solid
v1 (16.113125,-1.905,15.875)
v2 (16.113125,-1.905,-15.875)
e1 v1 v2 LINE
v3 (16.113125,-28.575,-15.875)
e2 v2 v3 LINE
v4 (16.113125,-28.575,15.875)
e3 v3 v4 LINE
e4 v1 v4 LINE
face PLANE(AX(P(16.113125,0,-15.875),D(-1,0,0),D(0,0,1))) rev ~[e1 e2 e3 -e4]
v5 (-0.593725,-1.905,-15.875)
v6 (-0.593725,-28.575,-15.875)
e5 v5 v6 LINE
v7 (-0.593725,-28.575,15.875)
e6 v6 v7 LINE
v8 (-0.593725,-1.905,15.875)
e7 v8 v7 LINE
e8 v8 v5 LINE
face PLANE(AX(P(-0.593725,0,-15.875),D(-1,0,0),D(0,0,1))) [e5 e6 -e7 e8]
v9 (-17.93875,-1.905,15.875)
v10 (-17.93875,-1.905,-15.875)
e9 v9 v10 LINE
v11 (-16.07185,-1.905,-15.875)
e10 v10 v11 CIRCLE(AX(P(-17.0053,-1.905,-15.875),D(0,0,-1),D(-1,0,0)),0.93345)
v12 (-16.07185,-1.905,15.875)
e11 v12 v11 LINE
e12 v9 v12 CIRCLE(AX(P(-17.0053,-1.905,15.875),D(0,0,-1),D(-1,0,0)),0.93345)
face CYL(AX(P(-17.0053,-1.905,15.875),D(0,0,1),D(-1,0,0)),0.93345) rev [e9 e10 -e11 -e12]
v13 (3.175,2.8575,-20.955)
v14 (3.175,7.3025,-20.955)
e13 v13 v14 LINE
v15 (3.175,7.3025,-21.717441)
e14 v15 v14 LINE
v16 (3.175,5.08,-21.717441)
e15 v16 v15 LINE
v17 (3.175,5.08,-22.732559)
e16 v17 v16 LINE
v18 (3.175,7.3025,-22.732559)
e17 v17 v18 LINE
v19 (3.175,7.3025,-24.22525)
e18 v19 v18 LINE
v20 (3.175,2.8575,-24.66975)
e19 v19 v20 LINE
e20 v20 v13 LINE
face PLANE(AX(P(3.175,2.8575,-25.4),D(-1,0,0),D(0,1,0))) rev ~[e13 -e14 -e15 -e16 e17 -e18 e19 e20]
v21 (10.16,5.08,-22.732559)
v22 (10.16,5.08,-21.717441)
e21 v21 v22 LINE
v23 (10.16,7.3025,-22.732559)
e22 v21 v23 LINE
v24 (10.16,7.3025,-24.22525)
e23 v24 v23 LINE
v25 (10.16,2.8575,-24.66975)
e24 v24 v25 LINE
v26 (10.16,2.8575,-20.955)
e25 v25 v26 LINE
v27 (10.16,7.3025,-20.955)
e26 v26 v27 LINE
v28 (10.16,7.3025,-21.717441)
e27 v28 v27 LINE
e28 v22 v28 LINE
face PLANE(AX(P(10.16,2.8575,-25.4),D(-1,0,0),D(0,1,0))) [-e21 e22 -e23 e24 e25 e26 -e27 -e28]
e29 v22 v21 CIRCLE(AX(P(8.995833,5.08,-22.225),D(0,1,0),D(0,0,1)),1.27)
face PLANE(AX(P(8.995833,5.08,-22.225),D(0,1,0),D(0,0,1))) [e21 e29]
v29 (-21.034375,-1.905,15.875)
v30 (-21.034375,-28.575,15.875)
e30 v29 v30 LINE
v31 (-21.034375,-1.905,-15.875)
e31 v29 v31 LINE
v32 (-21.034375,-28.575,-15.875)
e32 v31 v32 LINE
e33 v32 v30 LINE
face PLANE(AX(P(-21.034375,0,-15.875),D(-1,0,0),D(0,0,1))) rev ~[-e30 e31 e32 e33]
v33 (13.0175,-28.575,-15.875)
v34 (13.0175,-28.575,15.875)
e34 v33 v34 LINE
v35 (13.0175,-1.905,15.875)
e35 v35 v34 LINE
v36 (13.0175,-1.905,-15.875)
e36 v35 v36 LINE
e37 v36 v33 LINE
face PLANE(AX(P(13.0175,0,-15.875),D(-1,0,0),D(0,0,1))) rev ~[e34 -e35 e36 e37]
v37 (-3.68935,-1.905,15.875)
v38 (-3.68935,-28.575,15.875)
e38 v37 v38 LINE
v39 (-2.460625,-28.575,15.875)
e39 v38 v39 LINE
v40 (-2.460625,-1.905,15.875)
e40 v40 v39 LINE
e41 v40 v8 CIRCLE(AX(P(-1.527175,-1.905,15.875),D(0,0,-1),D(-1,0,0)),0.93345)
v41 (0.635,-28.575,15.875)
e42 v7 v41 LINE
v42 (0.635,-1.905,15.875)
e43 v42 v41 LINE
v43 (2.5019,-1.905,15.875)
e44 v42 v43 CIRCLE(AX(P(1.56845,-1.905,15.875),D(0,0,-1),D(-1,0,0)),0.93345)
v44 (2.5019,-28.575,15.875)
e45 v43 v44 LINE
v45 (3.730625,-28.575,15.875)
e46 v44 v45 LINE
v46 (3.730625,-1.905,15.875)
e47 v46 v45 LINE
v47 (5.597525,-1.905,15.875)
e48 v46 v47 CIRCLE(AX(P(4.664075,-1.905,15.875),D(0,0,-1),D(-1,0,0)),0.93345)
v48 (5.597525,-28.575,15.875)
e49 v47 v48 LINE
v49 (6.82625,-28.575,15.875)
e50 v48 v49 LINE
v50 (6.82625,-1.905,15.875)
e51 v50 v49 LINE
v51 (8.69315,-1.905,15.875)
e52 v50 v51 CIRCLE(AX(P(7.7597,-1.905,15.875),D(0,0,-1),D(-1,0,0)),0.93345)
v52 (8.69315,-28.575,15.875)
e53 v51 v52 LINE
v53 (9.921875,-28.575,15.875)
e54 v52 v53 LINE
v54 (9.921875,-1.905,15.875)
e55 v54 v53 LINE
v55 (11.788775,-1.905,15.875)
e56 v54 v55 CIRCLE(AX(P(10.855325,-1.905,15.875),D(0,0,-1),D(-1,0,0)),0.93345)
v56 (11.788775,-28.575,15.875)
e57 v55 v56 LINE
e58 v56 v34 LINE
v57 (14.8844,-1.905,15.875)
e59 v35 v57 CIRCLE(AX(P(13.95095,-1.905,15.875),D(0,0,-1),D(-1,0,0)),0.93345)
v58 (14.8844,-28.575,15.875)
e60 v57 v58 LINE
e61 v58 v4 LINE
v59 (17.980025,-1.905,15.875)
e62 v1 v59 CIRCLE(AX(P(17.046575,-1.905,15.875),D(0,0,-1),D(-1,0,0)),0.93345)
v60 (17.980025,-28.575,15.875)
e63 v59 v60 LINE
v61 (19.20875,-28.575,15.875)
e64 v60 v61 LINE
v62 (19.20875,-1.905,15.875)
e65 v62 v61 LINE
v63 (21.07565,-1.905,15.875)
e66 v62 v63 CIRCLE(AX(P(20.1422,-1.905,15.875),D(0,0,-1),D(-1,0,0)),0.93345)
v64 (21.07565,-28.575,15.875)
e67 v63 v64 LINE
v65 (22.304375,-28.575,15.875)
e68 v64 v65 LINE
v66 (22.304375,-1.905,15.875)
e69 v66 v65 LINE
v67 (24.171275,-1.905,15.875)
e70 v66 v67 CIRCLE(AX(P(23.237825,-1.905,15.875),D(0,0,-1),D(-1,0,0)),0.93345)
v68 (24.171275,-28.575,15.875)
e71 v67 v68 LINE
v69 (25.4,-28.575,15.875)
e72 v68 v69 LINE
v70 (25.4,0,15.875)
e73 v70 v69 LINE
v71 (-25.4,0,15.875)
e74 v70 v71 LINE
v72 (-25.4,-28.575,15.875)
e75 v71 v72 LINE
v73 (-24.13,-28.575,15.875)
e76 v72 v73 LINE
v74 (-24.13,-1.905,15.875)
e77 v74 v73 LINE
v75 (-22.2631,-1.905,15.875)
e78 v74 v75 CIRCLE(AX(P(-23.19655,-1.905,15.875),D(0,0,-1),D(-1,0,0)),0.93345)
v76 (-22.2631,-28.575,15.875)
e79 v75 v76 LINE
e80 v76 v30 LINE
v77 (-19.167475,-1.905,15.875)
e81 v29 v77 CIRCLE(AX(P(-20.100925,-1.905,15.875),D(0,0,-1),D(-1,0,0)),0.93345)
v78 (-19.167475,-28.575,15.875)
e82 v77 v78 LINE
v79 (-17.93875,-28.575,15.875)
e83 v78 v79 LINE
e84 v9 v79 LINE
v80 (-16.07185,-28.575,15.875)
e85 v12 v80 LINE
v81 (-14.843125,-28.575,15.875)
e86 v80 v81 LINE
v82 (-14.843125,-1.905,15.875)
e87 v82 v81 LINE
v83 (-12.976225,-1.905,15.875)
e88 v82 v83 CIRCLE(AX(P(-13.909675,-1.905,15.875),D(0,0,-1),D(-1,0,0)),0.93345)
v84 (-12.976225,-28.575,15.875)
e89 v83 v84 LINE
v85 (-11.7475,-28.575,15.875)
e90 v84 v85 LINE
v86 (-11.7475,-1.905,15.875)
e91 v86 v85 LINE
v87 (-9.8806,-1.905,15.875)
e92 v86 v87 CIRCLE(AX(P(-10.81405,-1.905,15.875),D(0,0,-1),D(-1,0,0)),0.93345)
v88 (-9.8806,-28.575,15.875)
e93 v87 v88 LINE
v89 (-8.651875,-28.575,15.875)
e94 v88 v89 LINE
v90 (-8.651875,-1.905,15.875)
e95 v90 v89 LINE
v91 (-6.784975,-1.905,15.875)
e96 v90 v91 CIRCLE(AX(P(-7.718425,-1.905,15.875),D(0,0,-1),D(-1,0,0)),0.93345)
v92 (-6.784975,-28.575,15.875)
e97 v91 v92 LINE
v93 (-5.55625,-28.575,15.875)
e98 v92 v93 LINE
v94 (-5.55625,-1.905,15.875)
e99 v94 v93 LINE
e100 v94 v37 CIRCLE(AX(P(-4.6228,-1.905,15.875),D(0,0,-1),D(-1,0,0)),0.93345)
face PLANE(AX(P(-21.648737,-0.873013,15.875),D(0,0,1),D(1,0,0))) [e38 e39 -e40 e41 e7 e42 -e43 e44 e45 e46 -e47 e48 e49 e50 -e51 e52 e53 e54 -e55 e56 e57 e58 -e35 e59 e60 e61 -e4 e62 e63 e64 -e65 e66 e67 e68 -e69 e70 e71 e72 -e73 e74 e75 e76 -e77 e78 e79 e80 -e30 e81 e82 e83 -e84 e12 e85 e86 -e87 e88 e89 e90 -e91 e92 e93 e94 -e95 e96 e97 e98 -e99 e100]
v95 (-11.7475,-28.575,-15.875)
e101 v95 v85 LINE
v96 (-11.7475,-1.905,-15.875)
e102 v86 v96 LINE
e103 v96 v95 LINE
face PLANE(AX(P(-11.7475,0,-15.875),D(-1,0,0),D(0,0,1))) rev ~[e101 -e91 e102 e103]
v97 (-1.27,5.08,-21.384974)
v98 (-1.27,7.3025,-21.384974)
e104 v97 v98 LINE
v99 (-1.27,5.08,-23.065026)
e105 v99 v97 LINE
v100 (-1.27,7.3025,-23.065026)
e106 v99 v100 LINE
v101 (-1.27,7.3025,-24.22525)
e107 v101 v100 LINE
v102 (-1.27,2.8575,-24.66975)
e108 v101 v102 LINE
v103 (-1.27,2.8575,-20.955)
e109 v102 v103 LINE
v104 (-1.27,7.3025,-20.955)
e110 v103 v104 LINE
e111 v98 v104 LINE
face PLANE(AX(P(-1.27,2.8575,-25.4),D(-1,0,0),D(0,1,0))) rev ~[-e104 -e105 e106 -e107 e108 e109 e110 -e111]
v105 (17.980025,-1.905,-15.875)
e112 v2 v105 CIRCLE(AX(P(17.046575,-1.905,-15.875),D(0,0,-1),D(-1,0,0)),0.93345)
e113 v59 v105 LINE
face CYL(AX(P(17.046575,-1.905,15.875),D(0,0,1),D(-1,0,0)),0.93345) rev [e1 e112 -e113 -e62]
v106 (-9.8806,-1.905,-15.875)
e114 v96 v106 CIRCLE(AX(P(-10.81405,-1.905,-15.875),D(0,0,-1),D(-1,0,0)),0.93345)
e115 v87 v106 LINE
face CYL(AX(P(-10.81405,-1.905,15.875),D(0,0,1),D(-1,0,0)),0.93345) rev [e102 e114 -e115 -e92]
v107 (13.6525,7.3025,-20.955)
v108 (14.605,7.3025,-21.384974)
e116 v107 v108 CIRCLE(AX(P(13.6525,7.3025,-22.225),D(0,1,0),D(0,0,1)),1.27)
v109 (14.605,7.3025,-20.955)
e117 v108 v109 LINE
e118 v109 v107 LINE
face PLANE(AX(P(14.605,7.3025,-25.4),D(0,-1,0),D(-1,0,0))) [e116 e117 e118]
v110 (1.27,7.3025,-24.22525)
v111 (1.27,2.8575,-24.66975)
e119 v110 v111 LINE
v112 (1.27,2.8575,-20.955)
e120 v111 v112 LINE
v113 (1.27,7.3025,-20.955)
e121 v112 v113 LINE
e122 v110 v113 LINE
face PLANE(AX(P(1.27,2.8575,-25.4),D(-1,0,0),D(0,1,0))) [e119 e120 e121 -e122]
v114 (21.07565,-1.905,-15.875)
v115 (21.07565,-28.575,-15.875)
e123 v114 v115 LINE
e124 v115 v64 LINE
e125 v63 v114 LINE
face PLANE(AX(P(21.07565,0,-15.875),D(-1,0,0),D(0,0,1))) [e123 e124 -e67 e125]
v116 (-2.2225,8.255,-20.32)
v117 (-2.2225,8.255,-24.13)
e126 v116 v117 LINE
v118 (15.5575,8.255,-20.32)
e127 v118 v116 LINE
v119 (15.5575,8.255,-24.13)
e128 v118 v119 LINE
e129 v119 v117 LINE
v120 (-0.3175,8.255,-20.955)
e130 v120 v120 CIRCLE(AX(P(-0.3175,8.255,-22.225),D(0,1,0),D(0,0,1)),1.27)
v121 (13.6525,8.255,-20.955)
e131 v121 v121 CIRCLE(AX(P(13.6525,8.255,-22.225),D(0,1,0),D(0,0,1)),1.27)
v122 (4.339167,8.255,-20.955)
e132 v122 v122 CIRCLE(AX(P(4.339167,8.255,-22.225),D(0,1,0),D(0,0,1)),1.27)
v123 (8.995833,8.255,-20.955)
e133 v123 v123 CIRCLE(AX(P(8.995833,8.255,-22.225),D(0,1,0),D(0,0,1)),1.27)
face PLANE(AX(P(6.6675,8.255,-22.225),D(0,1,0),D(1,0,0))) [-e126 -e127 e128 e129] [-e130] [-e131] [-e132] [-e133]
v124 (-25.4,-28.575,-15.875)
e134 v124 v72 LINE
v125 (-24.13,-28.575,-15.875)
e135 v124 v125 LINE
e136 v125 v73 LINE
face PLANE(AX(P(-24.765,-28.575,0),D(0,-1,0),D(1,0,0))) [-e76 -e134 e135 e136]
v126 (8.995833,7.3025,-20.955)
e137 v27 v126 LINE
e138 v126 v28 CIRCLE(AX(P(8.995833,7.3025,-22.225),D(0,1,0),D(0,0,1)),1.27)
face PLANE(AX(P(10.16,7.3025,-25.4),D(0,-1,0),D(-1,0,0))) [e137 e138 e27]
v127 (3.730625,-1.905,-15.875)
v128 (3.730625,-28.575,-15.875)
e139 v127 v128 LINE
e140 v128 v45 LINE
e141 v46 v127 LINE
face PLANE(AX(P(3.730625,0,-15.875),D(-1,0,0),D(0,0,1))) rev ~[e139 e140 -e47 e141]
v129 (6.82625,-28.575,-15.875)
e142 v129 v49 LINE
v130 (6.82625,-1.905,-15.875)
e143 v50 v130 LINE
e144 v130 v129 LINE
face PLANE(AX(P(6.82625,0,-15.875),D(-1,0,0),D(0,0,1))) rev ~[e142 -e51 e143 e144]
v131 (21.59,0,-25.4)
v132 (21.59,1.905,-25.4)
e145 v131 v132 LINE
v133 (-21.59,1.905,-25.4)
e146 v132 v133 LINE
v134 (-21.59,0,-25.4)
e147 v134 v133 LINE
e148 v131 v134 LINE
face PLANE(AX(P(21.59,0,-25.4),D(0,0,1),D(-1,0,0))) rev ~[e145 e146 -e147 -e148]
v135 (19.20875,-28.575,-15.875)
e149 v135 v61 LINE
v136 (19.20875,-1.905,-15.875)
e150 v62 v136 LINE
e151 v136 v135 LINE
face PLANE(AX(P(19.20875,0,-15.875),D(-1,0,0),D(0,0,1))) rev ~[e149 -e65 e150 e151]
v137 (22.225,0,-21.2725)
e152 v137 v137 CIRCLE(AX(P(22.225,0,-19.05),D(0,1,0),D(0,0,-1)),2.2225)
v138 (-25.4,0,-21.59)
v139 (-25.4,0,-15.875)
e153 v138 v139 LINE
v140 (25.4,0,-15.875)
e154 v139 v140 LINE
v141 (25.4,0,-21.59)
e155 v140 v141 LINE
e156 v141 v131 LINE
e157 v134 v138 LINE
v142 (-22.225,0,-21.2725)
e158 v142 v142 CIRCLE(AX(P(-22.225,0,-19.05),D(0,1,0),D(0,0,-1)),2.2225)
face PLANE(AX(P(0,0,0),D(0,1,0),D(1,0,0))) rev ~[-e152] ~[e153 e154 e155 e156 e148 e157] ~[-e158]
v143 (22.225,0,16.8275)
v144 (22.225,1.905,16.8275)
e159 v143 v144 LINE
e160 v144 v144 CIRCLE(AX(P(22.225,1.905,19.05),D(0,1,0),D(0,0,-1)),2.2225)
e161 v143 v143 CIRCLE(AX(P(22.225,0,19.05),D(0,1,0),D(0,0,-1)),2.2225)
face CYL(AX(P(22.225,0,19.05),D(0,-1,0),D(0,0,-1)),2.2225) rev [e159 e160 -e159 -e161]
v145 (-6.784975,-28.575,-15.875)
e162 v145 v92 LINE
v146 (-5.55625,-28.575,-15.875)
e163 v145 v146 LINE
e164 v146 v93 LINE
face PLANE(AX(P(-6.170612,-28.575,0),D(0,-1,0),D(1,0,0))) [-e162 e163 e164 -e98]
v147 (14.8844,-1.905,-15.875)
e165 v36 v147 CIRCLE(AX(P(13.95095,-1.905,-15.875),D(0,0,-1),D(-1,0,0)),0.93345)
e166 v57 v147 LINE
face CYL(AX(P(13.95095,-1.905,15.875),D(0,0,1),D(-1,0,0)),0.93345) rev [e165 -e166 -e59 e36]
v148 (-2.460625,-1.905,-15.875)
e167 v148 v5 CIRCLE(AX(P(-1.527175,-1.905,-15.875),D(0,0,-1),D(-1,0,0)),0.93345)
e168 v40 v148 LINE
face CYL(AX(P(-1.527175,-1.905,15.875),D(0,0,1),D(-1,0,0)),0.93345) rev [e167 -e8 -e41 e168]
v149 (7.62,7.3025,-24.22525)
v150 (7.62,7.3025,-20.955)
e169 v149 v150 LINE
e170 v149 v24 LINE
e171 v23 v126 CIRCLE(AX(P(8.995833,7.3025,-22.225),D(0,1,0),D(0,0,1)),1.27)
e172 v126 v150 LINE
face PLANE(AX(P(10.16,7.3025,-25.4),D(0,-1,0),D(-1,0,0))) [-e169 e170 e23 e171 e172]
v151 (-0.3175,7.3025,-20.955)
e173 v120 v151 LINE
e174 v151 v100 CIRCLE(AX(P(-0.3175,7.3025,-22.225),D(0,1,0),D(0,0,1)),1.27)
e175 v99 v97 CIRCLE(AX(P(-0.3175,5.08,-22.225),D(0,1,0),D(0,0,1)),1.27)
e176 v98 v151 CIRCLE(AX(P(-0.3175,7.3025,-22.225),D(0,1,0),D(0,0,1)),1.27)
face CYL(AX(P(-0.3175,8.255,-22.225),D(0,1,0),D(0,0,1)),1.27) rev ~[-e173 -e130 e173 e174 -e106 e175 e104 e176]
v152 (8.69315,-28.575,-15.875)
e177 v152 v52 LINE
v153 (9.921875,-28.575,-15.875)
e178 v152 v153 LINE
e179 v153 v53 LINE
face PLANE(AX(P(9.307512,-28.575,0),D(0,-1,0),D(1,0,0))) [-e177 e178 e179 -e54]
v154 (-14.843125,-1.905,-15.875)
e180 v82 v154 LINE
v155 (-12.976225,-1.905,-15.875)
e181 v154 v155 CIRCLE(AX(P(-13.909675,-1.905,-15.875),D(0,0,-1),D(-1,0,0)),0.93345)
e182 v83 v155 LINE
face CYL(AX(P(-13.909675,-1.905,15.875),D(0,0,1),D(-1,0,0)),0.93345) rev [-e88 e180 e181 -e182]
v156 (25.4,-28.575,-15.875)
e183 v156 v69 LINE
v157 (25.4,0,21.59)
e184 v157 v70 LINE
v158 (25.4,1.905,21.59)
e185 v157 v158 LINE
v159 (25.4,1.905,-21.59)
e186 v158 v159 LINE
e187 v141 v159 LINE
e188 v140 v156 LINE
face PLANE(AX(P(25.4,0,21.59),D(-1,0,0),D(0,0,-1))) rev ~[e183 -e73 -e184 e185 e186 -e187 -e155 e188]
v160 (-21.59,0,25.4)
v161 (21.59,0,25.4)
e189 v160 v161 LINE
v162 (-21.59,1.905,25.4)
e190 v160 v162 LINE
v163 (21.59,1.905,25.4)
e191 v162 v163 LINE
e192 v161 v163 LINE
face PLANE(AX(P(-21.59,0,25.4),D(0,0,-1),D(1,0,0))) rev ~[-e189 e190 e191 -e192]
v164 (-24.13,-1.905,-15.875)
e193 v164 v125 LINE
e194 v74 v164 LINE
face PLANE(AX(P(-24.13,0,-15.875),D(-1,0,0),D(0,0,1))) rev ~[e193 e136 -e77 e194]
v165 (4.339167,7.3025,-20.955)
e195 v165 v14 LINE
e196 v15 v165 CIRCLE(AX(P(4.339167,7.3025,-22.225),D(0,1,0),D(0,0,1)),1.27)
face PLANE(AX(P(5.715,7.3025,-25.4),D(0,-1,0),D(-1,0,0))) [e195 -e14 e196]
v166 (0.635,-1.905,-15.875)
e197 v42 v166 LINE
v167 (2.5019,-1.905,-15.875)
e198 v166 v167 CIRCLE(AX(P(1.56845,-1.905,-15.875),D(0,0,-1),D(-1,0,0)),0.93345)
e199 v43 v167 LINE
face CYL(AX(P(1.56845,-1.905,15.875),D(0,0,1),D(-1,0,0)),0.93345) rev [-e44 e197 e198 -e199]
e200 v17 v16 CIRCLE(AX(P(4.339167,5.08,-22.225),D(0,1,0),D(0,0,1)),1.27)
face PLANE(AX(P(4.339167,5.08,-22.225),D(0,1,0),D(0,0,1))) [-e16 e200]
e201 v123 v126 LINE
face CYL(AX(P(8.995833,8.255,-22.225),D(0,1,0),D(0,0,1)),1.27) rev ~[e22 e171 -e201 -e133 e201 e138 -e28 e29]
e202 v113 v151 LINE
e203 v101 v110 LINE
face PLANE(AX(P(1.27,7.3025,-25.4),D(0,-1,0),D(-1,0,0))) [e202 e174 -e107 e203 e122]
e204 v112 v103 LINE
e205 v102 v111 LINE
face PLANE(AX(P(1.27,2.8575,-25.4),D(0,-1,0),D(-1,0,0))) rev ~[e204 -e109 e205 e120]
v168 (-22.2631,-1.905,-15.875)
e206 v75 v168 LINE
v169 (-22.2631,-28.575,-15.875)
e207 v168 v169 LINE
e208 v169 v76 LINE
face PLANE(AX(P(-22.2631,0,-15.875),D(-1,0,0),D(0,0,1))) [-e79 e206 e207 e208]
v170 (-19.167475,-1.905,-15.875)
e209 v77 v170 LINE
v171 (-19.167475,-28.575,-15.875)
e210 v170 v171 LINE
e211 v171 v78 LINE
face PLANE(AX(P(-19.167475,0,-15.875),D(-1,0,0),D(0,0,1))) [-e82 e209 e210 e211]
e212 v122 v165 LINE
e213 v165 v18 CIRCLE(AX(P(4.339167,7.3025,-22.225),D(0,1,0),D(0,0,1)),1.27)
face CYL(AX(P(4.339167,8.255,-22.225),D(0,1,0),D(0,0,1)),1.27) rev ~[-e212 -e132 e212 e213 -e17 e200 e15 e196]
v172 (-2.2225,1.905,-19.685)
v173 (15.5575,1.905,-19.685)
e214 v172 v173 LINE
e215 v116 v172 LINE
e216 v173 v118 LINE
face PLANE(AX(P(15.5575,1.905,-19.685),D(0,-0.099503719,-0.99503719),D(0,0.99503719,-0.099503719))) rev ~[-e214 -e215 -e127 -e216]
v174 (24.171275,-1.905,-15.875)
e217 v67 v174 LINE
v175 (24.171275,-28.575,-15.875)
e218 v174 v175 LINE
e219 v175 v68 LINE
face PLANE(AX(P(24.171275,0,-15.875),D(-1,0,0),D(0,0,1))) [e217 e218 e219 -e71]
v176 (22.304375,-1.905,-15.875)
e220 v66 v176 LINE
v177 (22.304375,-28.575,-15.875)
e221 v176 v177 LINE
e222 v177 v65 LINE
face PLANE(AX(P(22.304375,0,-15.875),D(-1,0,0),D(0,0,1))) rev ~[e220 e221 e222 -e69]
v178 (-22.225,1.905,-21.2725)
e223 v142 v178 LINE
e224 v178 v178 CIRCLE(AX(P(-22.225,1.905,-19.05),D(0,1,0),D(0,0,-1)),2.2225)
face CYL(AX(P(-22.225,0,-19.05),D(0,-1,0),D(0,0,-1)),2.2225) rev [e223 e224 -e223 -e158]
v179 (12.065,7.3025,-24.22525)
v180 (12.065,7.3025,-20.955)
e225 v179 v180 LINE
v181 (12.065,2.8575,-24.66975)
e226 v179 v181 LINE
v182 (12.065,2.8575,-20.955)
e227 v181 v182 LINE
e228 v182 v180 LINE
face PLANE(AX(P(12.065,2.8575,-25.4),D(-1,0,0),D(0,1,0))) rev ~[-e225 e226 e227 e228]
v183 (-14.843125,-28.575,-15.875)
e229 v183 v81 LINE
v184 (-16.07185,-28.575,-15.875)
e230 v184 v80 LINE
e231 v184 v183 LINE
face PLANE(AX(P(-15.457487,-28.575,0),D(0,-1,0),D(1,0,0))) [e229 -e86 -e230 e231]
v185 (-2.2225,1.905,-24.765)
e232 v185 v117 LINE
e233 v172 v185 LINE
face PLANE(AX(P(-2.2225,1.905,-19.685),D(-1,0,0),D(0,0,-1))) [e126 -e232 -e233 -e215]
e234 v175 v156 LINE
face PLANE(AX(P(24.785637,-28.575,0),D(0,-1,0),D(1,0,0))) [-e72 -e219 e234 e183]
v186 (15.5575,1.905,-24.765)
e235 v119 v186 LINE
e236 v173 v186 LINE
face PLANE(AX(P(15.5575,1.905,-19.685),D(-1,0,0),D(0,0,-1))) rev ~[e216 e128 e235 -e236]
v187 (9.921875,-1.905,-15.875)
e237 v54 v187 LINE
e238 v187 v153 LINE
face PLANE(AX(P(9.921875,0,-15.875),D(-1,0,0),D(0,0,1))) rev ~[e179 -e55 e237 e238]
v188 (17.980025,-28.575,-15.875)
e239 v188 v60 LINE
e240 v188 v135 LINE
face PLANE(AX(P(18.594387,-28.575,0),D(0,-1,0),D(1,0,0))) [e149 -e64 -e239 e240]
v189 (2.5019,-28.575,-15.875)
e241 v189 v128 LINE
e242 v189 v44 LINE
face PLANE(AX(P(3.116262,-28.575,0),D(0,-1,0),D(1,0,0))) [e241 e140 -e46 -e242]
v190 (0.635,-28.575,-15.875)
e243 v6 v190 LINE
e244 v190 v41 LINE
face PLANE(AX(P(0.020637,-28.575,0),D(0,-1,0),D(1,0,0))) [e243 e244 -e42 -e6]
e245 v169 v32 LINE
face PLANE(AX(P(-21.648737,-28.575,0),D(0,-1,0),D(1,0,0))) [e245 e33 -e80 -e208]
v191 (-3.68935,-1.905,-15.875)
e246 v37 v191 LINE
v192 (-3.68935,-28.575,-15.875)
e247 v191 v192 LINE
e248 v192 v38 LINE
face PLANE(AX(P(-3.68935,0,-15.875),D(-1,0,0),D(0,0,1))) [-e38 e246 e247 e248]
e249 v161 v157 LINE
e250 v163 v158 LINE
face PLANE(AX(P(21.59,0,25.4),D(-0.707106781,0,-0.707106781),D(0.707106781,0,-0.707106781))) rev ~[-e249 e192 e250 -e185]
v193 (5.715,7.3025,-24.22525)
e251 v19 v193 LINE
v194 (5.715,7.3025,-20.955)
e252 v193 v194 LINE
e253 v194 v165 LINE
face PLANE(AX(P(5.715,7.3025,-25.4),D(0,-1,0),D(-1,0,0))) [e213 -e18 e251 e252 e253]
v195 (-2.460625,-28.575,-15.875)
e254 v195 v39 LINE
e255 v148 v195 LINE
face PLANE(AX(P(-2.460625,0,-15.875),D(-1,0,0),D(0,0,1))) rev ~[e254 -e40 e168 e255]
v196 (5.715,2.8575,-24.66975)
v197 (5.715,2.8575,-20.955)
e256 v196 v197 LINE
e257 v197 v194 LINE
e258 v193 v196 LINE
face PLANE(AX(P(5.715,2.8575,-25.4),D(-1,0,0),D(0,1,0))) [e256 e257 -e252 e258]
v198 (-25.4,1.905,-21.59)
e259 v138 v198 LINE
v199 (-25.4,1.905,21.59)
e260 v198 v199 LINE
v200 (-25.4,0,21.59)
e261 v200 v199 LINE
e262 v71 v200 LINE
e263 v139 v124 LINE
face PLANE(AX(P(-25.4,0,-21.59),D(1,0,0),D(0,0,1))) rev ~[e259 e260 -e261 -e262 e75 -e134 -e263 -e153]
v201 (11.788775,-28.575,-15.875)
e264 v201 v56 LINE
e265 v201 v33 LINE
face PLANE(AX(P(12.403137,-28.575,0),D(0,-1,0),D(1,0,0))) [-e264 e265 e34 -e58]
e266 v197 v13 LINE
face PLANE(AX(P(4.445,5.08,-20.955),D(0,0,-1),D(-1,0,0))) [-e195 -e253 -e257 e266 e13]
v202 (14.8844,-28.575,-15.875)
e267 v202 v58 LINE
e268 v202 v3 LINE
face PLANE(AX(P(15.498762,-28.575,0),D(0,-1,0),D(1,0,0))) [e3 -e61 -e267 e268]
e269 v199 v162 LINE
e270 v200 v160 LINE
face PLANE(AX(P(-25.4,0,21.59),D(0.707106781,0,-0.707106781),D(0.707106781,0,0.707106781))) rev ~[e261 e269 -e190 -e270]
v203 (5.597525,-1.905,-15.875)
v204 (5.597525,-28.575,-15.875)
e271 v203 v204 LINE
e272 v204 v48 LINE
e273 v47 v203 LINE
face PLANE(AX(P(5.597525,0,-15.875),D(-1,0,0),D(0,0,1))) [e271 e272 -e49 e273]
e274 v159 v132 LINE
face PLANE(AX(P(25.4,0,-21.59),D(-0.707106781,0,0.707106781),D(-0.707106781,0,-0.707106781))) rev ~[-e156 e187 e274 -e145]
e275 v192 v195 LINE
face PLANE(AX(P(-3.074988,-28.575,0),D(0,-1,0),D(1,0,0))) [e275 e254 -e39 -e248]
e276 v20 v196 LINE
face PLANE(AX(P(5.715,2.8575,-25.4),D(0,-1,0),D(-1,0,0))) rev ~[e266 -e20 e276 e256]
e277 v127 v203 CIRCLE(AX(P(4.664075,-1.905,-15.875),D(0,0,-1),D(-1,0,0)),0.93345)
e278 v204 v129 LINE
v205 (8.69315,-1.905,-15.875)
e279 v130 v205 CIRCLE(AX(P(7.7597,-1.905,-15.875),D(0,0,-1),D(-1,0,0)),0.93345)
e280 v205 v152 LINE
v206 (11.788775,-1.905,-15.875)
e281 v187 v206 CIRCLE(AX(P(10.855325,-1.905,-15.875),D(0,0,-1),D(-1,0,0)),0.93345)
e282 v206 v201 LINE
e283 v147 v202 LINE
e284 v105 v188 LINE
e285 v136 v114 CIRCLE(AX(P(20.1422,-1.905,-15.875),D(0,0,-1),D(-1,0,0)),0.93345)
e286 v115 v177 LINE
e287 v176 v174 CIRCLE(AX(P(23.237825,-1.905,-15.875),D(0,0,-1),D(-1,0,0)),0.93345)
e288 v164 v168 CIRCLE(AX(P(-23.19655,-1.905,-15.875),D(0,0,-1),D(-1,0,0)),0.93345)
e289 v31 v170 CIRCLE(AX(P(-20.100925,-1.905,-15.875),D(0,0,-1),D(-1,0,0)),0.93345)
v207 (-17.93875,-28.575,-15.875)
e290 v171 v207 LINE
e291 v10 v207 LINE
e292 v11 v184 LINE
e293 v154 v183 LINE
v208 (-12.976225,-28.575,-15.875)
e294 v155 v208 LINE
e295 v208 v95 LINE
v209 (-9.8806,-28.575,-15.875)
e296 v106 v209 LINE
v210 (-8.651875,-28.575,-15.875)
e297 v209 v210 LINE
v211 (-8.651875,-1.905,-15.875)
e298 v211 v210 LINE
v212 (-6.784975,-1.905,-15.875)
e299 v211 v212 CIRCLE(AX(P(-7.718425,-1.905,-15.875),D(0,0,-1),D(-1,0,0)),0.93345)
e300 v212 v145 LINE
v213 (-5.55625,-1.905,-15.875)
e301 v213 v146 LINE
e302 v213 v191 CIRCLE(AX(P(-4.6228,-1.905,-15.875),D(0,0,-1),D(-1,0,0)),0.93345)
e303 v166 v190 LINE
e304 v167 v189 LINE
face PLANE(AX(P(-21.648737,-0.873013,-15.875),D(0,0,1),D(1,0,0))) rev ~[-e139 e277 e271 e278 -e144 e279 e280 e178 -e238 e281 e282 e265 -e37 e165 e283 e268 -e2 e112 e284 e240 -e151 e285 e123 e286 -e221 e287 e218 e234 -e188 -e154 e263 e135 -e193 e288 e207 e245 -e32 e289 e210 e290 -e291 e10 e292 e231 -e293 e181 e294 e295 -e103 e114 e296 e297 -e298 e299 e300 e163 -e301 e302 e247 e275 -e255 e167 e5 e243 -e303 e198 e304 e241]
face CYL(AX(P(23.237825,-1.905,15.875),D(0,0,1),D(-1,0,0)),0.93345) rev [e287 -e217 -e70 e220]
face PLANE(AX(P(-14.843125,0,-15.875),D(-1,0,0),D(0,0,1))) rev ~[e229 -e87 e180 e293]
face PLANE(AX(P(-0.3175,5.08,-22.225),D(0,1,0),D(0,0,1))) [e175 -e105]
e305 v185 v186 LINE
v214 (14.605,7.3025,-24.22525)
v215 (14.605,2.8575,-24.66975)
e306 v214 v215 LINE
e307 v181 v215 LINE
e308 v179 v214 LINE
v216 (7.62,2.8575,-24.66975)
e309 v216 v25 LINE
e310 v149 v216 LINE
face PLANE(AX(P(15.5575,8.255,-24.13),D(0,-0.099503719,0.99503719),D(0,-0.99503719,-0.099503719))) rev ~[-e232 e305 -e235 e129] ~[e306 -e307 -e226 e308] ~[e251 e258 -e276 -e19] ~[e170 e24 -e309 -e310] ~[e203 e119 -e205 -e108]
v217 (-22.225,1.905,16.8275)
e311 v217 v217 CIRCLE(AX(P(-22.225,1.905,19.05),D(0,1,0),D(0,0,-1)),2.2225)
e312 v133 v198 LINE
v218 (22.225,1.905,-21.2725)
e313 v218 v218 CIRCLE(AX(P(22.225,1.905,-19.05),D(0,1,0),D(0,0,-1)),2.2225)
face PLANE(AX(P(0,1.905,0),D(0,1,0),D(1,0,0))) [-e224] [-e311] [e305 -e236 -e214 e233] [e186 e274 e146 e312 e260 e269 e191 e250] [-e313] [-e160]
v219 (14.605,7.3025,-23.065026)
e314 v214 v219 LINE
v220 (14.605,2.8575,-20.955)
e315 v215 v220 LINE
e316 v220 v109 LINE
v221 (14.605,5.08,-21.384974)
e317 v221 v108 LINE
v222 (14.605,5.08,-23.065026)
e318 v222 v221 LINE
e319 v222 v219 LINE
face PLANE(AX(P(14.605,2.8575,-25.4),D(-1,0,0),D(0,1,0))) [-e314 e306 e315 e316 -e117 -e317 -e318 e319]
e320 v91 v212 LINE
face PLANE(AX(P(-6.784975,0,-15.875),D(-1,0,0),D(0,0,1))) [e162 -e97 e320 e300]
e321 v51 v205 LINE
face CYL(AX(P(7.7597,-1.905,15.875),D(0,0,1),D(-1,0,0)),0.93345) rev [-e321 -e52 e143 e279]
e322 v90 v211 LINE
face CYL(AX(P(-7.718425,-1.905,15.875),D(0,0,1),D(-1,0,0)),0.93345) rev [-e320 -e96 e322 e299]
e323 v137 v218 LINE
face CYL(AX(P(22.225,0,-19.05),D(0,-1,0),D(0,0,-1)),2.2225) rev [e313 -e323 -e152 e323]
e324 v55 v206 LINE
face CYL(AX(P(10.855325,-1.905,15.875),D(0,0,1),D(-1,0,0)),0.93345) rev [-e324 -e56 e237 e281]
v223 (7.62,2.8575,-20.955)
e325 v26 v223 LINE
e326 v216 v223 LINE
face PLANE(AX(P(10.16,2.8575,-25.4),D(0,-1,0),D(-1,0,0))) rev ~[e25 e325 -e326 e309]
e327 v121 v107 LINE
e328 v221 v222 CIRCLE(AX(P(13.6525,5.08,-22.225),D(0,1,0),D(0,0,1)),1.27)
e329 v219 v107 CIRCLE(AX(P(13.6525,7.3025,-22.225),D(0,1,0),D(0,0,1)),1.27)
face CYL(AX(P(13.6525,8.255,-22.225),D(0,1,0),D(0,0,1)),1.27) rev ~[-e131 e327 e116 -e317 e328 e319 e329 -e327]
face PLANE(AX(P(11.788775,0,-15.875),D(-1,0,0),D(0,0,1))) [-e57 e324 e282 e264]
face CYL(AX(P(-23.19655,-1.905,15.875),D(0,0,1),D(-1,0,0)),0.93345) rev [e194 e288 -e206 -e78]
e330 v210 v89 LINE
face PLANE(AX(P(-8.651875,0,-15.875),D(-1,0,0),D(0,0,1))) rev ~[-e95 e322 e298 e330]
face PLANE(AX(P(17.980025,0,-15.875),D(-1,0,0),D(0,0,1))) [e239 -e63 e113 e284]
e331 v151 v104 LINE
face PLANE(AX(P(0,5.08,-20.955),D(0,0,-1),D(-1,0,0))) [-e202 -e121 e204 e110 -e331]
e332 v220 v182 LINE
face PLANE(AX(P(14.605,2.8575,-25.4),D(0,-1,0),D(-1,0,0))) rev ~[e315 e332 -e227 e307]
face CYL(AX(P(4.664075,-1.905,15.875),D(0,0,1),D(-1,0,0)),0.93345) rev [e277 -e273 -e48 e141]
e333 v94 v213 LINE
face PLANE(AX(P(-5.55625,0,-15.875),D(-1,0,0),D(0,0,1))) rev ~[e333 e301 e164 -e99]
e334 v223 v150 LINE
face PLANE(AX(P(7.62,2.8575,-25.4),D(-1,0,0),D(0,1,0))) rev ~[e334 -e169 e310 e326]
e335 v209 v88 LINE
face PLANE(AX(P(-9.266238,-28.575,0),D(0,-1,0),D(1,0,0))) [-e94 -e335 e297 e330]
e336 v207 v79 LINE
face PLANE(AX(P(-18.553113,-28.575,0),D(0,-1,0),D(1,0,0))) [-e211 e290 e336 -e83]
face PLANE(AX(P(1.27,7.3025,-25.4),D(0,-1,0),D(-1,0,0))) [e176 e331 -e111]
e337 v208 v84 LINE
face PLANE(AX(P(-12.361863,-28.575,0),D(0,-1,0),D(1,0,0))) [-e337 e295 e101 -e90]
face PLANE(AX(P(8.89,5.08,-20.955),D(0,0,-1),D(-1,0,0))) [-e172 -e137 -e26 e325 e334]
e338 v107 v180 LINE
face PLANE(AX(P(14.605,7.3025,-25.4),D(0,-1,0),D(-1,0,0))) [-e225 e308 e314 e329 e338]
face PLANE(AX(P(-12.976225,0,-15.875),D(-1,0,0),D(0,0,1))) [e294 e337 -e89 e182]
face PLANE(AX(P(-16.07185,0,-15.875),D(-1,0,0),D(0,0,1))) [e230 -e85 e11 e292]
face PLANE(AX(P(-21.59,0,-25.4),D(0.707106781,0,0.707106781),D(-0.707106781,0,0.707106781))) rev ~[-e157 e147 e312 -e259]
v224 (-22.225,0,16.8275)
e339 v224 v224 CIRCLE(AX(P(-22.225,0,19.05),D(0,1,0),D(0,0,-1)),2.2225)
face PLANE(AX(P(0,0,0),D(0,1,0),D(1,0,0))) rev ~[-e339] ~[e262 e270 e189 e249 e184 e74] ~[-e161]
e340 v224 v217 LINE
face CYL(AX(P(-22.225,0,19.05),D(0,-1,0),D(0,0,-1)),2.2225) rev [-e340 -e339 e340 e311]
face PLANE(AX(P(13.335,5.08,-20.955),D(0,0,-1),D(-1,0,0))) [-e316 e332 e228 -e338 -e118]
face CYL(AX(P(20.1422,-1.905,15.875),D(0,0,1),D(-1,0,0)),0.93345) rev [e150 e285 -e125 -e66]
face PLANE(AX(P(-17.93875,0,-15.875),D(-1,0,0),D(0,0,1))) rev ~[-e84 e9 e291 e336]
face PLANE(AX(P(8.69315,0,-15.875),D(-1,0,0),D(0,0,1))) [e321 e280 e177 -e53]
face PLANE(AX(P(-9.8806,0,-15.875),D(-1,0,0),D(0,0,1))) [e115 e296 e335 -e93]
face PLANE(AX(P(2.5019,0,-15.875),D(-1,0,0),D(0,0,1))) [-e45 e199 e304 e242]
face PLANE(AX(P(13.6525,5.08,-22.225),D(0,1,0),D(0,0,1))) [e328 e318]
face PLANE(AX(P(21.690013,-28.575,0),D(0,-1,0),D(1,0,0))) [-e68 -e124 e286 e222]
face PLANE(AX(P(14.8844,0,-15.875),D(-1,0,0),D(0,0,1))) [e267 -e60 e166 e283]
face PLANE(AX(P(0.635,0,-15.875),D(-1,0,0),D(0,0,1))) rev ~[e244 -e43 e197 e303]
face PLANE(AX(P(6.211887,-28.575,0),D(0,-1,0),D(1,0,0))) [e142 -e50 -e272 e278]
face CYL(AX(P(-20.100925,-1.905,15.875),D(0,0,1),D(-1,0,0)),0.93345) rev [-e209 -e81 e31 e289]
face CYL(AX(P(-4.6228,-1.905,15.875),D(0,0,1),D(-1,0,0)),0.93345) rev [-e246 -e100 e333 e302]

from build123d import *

# Parameters (mm, degrees)
SKETCH1_R           = 2.2225
BOSS_EXTRUDE1_DEPTH = 1.905
SKETCH2_W           = 1.228725
SKETCH2_H           = 31.75
SKETCH2_W_2         = 1.27
BOSS_EXTRUDE2_DEPTH = 28.575
BOSS_EXTRUDE4_DEPTH = 31.75
SKETCH4_W           = 17.78
SKETCH4_H           = 5.08
BOSS_EXTRUDE5_DEPTH = 6.35
CUT_EXTRUDE1_DEPTH  = 19.05
SKETCH6_R           = 1.27
CUT_EXTRUDE2_DEPTH  = 3.175
SKETCH7_W           = 2.54
SKETCH7_H           = 4.445
CUT_EXTRUDE3_DEPTH  = 4.445


with BuildPart() as part:
    # Sketch1 → Boss-Extrude1 (new body)
    with BuildSketch(Plane(origin=(0, 0, 0), x_dir=(1, 0, 0), z_dir=(0, 1, 0))):
        Polygon((21.59, 25.4), (-21.59, 25.4), (-25.4, 21.59), (-25.4, -21.59), (-21.59, -25.4), (21.59, -25.4), (25.4, -21.59), (25.4, 21.59), align=None)
        with Locations((-22.225, -19.05)):
            Circle(SKETCH1_R, mode=Mode.SUBTRACT)
        with Locations((22.225, -19.05)):
            Circle(SKETCH1_R, mode=Mode.SUBTRACT)
        with Locations((-22.225, 19.05)):
            Circle(SKETCH1_R, mode=Mode.SUBTRACT)
        with Locations((22.225, 19.05)):
            Circle(SKETCH1_R, mode=Mode.SUBTRACT)
    extrude(amount=BOSS_EXTRUDE1_DEPTH)

    # Sketch2 → Boss-Extrude2 (add)
    with BuildSketch(Plane.XZ):
        with Locations((24.7856375, 0)):
            Rectangle(SKETCH2_W, SKETCH2_H)
        with Locations((21.6900125, 0)):
            Rectangle(SKETCH2_W, SKETCH2_H)
        with Locations((18.5943875, 0)):
            Rectangle(SKETCH2_W, SKETCH2_H)
        with Locations((15.4987625, 0)):
            Rectangle(SKETCH2_W, SKETCH2_H)
        with Locations((12.4031375, 0)):
            Rectangle(SKETCH2_W, SKETCH2_H)
        with Locations((9.3075125, 0)):
            Rectangle(SKETCH2_W, SKETCH2_H)
        with Locations((6.2118875, 0)):
            Rectangle(SKETCH2_W, SKETCH2_H)
        with Locations((3.1162625, 0)):
            Rectangle(SKETCH2_W, SKETCH2_H)
        with Locations((0.0206375, 0)):
            Rectangle(SKETCH2_W, SKETCH2_H)
        with Locations((-3.0749875, 0)):
            Rectangle(SKETCH2_W, SKETCH2_H)
        with Locations((-6.1706125, 0)):
            Rectangle(SKETCH2_W, SKETCH2_H)
        with Locations((-9.2662375, 0)):
            Rectangle(SKETCH2_W, SKETCH2_H)
        with Locations((-12.3618625, 0)):
            Rectangle(SKETCH2_W, SKETCH2_H)
        with Locations((-15.4574875, 0)):
            Rectangle(SKETCH2_W, SKETCH2_H)
        with Locations((-18.5531125, 0)):
            Rectangle(SKETCH2_W, SKETCH2_H)
        with Locations((-21.6487375, 0)):
            Rectangle(SKETCH2_W, SKETCH2_H)
        with Locations((-24.765, 0)):
            Rectangle(SKETCH2_W_2, SKETCH2_H)
    extrude(amount=BOSS_EXTRUDE2_DEPTH)

    # Sketch3 → Boss-Extrude4 (add)
    with BuildSketch(Plane.XY.offset(15.875)):
        with BuildLine():
            Line((-24.13, 0), (-24.13, -1.905))
            ThreePointArc((-24.13, -1.905), (-23.19655, -0.97155), (-22.2631, -1.905))
            Line((-22.2631, -1.905), (-21.034375, -1.905))
            ThreePointArc((-21.034375, -1.905), (-20.100925, -0.97155), (-19.167475, -1.905))
            Line((-19.167475, -1.905), (-17.93875, -1.905))
            ThreePointArc((-17.93875, -1.905), (-17.0053, -0.97155), (-16.07185, -1.905))
            Line((-16.07185, -1.905), (-14.843125, -1.905))
            ThreePointArc((-14.843125, -1.905), (-13.909675, -0.97155), (-12.976225, -1.905))
            Line((-12.976225, -1.905), (-11.7475, -1.905))
            ThreePointArc((-11.7475, -1.905), (-10.81405, -0.97155), (-9.8806, -1.905))
            Line((-9.8806, -1.905), (-8.651875, -1.905))
            ThreePointArc((-8.651875, -1.905), (-7.718425, -0.97155), (-6.784975, -1.905))
            Line((-6.784975, -1.905), (-5.55625, -1.905))
            ThreePointArc((-5.55625, -1.905), (-4.6228, -0.97155), (-3.68935, -1.905))
            Line((-3.68935, -1.905), (-2.460625, -1.905))
            ThreePointArc((-2.460625, -1.905), (-1.527175, -0.97155), (-0.593725, -1.905))
            Line((-0.593725, -1.905), (0.635, -1.905))
            ThreePointArc((0.635, -1.905), (1.56845, -0.97155), (2.5019, -1.905))
            Line((2.5019, -1.905), (3.730625, -1.905))
            ThreePointArc((3.730625, -1.905), (4.664075, -0.97155), (5.597525, -1.905))
            Line((5.597525, -1.905), (6.82625, -1.905))
            ThreePointArc((6.82625, -1.905), (7.7597, -0.97155), (8.69315, -1.905))
            Line((8.69315, -1.905), (9.921875, -1.905))
            ThreePointArc((9.921875, -1.905), (10.855325, -0.97155), (11.788775, -1.905))
            Line((11.788775, -1.905), (13.0175, -1.905))
            ThreePointArc((13.0175, -1.905), (13.95095, -0.97155), (14.8844, -1.905))
            Line((14.8844, -1.905), (16.113125, -1.905))
            ThreePointArc((16.113125, -1.905), (17.046575, -0.97155), (17.980025, -1.905))
            Line((17.980025, -1.905), (19.20875, -1.905))
            ThreePointArc((19.20875, -1.905), (20.1422, -0.97155), (21.07565, -1.905))
            Line((21.07565, -1.905), (22.304375, -1.905))
            ThreePointArc((22.304375, -1.905), (23.237825, -0.97155), (24.171275, -1.905))
            Line((24.171275, -1.905), (24.171275, 0))
            Line((24.171275, 0), (-24.13, 0))
        make_face()
    extrude(amount=-BOSS_EXTRUDE4_DEPTH)

    # Sketch4 → Boss-Extrude5 (add)
    with BuildSketch(Plane(origin=(0, 1.905, 0), x_dir=(1, 0, 0), z_dir=(0, 1, 0))):
        with Locations((6.6675, 22.225)):
            Rectangle(SKETCH4_W, SKETCH4_H)
    extrude(amount=BOSS_EXTRUDE5_DEPTH)

    # Sketch5 → Cut-Extrude1 (cut)
    with BuildSketch(Plane(origin=(15.5575, 0, 0), x_dir=(0, 0, -1), z_dir=(1, 0, 0))):
        Polygon((19.685, 8.255), (19.685, 1.905), (20.32, 8.255), align=None)
        Polygon((24.765, 8.255), (24.13, 8.255), (24.765, 1.905), align=None)
    extrude(amount=-CUT_EXTRUDE1_DEPTH, mode=Mode.SUBTRACT)

    # Sketch6 → Cut-Extrude2 (cut)
    with BuildSketch(Plane(origin=(0, 8.255, 0), x_dir=(1, 0, 0), z_dir=(0, 1, 0))):
        with Locations((-0.3175, 22.225)):
            Circle(SKETCH6_R)
        with Locations((4.339166667, 22.225)):
            Circle(SKETCH6_R)
        with Locations((8.995833333, 22.225)):
            Circle(SKETCH6_R)
        with Locations((13.6525, 22.225)):
            Circle(SKETCH6_R)
    extrude(amount=-CUT_EXTRUDE2_DEPTH, mode=Mode.SUBTRACT)

    # Sketch7 → Cut-Extrude3 (cut)
    with BuildSketch(Plane(origin=(0, 0, -25.4), x_dir=(-1, 0, 0), z_dir=(0, 0, -1))):
        with Locations((-13.335, 5.08)):
            Rectangle(SKETCH7_W, SKETCH7_H)
        with Locations((-8.89, 5.08)):
            Rectangle(SKETCH7_W, SKETCH7_H)
        with Locations((-4.445, 5.08)):
            Rectangle(SKETCH7_W, SKETCH7_H)
        with Locations((0, 5.08)):
            Rectangle(SKETCH7_W, SKETCH7_H)
    extrude(amount=-CUT_EXTRUDE3_DEPTH, mode=Mode.SUBTRACT)


solid = part.part
